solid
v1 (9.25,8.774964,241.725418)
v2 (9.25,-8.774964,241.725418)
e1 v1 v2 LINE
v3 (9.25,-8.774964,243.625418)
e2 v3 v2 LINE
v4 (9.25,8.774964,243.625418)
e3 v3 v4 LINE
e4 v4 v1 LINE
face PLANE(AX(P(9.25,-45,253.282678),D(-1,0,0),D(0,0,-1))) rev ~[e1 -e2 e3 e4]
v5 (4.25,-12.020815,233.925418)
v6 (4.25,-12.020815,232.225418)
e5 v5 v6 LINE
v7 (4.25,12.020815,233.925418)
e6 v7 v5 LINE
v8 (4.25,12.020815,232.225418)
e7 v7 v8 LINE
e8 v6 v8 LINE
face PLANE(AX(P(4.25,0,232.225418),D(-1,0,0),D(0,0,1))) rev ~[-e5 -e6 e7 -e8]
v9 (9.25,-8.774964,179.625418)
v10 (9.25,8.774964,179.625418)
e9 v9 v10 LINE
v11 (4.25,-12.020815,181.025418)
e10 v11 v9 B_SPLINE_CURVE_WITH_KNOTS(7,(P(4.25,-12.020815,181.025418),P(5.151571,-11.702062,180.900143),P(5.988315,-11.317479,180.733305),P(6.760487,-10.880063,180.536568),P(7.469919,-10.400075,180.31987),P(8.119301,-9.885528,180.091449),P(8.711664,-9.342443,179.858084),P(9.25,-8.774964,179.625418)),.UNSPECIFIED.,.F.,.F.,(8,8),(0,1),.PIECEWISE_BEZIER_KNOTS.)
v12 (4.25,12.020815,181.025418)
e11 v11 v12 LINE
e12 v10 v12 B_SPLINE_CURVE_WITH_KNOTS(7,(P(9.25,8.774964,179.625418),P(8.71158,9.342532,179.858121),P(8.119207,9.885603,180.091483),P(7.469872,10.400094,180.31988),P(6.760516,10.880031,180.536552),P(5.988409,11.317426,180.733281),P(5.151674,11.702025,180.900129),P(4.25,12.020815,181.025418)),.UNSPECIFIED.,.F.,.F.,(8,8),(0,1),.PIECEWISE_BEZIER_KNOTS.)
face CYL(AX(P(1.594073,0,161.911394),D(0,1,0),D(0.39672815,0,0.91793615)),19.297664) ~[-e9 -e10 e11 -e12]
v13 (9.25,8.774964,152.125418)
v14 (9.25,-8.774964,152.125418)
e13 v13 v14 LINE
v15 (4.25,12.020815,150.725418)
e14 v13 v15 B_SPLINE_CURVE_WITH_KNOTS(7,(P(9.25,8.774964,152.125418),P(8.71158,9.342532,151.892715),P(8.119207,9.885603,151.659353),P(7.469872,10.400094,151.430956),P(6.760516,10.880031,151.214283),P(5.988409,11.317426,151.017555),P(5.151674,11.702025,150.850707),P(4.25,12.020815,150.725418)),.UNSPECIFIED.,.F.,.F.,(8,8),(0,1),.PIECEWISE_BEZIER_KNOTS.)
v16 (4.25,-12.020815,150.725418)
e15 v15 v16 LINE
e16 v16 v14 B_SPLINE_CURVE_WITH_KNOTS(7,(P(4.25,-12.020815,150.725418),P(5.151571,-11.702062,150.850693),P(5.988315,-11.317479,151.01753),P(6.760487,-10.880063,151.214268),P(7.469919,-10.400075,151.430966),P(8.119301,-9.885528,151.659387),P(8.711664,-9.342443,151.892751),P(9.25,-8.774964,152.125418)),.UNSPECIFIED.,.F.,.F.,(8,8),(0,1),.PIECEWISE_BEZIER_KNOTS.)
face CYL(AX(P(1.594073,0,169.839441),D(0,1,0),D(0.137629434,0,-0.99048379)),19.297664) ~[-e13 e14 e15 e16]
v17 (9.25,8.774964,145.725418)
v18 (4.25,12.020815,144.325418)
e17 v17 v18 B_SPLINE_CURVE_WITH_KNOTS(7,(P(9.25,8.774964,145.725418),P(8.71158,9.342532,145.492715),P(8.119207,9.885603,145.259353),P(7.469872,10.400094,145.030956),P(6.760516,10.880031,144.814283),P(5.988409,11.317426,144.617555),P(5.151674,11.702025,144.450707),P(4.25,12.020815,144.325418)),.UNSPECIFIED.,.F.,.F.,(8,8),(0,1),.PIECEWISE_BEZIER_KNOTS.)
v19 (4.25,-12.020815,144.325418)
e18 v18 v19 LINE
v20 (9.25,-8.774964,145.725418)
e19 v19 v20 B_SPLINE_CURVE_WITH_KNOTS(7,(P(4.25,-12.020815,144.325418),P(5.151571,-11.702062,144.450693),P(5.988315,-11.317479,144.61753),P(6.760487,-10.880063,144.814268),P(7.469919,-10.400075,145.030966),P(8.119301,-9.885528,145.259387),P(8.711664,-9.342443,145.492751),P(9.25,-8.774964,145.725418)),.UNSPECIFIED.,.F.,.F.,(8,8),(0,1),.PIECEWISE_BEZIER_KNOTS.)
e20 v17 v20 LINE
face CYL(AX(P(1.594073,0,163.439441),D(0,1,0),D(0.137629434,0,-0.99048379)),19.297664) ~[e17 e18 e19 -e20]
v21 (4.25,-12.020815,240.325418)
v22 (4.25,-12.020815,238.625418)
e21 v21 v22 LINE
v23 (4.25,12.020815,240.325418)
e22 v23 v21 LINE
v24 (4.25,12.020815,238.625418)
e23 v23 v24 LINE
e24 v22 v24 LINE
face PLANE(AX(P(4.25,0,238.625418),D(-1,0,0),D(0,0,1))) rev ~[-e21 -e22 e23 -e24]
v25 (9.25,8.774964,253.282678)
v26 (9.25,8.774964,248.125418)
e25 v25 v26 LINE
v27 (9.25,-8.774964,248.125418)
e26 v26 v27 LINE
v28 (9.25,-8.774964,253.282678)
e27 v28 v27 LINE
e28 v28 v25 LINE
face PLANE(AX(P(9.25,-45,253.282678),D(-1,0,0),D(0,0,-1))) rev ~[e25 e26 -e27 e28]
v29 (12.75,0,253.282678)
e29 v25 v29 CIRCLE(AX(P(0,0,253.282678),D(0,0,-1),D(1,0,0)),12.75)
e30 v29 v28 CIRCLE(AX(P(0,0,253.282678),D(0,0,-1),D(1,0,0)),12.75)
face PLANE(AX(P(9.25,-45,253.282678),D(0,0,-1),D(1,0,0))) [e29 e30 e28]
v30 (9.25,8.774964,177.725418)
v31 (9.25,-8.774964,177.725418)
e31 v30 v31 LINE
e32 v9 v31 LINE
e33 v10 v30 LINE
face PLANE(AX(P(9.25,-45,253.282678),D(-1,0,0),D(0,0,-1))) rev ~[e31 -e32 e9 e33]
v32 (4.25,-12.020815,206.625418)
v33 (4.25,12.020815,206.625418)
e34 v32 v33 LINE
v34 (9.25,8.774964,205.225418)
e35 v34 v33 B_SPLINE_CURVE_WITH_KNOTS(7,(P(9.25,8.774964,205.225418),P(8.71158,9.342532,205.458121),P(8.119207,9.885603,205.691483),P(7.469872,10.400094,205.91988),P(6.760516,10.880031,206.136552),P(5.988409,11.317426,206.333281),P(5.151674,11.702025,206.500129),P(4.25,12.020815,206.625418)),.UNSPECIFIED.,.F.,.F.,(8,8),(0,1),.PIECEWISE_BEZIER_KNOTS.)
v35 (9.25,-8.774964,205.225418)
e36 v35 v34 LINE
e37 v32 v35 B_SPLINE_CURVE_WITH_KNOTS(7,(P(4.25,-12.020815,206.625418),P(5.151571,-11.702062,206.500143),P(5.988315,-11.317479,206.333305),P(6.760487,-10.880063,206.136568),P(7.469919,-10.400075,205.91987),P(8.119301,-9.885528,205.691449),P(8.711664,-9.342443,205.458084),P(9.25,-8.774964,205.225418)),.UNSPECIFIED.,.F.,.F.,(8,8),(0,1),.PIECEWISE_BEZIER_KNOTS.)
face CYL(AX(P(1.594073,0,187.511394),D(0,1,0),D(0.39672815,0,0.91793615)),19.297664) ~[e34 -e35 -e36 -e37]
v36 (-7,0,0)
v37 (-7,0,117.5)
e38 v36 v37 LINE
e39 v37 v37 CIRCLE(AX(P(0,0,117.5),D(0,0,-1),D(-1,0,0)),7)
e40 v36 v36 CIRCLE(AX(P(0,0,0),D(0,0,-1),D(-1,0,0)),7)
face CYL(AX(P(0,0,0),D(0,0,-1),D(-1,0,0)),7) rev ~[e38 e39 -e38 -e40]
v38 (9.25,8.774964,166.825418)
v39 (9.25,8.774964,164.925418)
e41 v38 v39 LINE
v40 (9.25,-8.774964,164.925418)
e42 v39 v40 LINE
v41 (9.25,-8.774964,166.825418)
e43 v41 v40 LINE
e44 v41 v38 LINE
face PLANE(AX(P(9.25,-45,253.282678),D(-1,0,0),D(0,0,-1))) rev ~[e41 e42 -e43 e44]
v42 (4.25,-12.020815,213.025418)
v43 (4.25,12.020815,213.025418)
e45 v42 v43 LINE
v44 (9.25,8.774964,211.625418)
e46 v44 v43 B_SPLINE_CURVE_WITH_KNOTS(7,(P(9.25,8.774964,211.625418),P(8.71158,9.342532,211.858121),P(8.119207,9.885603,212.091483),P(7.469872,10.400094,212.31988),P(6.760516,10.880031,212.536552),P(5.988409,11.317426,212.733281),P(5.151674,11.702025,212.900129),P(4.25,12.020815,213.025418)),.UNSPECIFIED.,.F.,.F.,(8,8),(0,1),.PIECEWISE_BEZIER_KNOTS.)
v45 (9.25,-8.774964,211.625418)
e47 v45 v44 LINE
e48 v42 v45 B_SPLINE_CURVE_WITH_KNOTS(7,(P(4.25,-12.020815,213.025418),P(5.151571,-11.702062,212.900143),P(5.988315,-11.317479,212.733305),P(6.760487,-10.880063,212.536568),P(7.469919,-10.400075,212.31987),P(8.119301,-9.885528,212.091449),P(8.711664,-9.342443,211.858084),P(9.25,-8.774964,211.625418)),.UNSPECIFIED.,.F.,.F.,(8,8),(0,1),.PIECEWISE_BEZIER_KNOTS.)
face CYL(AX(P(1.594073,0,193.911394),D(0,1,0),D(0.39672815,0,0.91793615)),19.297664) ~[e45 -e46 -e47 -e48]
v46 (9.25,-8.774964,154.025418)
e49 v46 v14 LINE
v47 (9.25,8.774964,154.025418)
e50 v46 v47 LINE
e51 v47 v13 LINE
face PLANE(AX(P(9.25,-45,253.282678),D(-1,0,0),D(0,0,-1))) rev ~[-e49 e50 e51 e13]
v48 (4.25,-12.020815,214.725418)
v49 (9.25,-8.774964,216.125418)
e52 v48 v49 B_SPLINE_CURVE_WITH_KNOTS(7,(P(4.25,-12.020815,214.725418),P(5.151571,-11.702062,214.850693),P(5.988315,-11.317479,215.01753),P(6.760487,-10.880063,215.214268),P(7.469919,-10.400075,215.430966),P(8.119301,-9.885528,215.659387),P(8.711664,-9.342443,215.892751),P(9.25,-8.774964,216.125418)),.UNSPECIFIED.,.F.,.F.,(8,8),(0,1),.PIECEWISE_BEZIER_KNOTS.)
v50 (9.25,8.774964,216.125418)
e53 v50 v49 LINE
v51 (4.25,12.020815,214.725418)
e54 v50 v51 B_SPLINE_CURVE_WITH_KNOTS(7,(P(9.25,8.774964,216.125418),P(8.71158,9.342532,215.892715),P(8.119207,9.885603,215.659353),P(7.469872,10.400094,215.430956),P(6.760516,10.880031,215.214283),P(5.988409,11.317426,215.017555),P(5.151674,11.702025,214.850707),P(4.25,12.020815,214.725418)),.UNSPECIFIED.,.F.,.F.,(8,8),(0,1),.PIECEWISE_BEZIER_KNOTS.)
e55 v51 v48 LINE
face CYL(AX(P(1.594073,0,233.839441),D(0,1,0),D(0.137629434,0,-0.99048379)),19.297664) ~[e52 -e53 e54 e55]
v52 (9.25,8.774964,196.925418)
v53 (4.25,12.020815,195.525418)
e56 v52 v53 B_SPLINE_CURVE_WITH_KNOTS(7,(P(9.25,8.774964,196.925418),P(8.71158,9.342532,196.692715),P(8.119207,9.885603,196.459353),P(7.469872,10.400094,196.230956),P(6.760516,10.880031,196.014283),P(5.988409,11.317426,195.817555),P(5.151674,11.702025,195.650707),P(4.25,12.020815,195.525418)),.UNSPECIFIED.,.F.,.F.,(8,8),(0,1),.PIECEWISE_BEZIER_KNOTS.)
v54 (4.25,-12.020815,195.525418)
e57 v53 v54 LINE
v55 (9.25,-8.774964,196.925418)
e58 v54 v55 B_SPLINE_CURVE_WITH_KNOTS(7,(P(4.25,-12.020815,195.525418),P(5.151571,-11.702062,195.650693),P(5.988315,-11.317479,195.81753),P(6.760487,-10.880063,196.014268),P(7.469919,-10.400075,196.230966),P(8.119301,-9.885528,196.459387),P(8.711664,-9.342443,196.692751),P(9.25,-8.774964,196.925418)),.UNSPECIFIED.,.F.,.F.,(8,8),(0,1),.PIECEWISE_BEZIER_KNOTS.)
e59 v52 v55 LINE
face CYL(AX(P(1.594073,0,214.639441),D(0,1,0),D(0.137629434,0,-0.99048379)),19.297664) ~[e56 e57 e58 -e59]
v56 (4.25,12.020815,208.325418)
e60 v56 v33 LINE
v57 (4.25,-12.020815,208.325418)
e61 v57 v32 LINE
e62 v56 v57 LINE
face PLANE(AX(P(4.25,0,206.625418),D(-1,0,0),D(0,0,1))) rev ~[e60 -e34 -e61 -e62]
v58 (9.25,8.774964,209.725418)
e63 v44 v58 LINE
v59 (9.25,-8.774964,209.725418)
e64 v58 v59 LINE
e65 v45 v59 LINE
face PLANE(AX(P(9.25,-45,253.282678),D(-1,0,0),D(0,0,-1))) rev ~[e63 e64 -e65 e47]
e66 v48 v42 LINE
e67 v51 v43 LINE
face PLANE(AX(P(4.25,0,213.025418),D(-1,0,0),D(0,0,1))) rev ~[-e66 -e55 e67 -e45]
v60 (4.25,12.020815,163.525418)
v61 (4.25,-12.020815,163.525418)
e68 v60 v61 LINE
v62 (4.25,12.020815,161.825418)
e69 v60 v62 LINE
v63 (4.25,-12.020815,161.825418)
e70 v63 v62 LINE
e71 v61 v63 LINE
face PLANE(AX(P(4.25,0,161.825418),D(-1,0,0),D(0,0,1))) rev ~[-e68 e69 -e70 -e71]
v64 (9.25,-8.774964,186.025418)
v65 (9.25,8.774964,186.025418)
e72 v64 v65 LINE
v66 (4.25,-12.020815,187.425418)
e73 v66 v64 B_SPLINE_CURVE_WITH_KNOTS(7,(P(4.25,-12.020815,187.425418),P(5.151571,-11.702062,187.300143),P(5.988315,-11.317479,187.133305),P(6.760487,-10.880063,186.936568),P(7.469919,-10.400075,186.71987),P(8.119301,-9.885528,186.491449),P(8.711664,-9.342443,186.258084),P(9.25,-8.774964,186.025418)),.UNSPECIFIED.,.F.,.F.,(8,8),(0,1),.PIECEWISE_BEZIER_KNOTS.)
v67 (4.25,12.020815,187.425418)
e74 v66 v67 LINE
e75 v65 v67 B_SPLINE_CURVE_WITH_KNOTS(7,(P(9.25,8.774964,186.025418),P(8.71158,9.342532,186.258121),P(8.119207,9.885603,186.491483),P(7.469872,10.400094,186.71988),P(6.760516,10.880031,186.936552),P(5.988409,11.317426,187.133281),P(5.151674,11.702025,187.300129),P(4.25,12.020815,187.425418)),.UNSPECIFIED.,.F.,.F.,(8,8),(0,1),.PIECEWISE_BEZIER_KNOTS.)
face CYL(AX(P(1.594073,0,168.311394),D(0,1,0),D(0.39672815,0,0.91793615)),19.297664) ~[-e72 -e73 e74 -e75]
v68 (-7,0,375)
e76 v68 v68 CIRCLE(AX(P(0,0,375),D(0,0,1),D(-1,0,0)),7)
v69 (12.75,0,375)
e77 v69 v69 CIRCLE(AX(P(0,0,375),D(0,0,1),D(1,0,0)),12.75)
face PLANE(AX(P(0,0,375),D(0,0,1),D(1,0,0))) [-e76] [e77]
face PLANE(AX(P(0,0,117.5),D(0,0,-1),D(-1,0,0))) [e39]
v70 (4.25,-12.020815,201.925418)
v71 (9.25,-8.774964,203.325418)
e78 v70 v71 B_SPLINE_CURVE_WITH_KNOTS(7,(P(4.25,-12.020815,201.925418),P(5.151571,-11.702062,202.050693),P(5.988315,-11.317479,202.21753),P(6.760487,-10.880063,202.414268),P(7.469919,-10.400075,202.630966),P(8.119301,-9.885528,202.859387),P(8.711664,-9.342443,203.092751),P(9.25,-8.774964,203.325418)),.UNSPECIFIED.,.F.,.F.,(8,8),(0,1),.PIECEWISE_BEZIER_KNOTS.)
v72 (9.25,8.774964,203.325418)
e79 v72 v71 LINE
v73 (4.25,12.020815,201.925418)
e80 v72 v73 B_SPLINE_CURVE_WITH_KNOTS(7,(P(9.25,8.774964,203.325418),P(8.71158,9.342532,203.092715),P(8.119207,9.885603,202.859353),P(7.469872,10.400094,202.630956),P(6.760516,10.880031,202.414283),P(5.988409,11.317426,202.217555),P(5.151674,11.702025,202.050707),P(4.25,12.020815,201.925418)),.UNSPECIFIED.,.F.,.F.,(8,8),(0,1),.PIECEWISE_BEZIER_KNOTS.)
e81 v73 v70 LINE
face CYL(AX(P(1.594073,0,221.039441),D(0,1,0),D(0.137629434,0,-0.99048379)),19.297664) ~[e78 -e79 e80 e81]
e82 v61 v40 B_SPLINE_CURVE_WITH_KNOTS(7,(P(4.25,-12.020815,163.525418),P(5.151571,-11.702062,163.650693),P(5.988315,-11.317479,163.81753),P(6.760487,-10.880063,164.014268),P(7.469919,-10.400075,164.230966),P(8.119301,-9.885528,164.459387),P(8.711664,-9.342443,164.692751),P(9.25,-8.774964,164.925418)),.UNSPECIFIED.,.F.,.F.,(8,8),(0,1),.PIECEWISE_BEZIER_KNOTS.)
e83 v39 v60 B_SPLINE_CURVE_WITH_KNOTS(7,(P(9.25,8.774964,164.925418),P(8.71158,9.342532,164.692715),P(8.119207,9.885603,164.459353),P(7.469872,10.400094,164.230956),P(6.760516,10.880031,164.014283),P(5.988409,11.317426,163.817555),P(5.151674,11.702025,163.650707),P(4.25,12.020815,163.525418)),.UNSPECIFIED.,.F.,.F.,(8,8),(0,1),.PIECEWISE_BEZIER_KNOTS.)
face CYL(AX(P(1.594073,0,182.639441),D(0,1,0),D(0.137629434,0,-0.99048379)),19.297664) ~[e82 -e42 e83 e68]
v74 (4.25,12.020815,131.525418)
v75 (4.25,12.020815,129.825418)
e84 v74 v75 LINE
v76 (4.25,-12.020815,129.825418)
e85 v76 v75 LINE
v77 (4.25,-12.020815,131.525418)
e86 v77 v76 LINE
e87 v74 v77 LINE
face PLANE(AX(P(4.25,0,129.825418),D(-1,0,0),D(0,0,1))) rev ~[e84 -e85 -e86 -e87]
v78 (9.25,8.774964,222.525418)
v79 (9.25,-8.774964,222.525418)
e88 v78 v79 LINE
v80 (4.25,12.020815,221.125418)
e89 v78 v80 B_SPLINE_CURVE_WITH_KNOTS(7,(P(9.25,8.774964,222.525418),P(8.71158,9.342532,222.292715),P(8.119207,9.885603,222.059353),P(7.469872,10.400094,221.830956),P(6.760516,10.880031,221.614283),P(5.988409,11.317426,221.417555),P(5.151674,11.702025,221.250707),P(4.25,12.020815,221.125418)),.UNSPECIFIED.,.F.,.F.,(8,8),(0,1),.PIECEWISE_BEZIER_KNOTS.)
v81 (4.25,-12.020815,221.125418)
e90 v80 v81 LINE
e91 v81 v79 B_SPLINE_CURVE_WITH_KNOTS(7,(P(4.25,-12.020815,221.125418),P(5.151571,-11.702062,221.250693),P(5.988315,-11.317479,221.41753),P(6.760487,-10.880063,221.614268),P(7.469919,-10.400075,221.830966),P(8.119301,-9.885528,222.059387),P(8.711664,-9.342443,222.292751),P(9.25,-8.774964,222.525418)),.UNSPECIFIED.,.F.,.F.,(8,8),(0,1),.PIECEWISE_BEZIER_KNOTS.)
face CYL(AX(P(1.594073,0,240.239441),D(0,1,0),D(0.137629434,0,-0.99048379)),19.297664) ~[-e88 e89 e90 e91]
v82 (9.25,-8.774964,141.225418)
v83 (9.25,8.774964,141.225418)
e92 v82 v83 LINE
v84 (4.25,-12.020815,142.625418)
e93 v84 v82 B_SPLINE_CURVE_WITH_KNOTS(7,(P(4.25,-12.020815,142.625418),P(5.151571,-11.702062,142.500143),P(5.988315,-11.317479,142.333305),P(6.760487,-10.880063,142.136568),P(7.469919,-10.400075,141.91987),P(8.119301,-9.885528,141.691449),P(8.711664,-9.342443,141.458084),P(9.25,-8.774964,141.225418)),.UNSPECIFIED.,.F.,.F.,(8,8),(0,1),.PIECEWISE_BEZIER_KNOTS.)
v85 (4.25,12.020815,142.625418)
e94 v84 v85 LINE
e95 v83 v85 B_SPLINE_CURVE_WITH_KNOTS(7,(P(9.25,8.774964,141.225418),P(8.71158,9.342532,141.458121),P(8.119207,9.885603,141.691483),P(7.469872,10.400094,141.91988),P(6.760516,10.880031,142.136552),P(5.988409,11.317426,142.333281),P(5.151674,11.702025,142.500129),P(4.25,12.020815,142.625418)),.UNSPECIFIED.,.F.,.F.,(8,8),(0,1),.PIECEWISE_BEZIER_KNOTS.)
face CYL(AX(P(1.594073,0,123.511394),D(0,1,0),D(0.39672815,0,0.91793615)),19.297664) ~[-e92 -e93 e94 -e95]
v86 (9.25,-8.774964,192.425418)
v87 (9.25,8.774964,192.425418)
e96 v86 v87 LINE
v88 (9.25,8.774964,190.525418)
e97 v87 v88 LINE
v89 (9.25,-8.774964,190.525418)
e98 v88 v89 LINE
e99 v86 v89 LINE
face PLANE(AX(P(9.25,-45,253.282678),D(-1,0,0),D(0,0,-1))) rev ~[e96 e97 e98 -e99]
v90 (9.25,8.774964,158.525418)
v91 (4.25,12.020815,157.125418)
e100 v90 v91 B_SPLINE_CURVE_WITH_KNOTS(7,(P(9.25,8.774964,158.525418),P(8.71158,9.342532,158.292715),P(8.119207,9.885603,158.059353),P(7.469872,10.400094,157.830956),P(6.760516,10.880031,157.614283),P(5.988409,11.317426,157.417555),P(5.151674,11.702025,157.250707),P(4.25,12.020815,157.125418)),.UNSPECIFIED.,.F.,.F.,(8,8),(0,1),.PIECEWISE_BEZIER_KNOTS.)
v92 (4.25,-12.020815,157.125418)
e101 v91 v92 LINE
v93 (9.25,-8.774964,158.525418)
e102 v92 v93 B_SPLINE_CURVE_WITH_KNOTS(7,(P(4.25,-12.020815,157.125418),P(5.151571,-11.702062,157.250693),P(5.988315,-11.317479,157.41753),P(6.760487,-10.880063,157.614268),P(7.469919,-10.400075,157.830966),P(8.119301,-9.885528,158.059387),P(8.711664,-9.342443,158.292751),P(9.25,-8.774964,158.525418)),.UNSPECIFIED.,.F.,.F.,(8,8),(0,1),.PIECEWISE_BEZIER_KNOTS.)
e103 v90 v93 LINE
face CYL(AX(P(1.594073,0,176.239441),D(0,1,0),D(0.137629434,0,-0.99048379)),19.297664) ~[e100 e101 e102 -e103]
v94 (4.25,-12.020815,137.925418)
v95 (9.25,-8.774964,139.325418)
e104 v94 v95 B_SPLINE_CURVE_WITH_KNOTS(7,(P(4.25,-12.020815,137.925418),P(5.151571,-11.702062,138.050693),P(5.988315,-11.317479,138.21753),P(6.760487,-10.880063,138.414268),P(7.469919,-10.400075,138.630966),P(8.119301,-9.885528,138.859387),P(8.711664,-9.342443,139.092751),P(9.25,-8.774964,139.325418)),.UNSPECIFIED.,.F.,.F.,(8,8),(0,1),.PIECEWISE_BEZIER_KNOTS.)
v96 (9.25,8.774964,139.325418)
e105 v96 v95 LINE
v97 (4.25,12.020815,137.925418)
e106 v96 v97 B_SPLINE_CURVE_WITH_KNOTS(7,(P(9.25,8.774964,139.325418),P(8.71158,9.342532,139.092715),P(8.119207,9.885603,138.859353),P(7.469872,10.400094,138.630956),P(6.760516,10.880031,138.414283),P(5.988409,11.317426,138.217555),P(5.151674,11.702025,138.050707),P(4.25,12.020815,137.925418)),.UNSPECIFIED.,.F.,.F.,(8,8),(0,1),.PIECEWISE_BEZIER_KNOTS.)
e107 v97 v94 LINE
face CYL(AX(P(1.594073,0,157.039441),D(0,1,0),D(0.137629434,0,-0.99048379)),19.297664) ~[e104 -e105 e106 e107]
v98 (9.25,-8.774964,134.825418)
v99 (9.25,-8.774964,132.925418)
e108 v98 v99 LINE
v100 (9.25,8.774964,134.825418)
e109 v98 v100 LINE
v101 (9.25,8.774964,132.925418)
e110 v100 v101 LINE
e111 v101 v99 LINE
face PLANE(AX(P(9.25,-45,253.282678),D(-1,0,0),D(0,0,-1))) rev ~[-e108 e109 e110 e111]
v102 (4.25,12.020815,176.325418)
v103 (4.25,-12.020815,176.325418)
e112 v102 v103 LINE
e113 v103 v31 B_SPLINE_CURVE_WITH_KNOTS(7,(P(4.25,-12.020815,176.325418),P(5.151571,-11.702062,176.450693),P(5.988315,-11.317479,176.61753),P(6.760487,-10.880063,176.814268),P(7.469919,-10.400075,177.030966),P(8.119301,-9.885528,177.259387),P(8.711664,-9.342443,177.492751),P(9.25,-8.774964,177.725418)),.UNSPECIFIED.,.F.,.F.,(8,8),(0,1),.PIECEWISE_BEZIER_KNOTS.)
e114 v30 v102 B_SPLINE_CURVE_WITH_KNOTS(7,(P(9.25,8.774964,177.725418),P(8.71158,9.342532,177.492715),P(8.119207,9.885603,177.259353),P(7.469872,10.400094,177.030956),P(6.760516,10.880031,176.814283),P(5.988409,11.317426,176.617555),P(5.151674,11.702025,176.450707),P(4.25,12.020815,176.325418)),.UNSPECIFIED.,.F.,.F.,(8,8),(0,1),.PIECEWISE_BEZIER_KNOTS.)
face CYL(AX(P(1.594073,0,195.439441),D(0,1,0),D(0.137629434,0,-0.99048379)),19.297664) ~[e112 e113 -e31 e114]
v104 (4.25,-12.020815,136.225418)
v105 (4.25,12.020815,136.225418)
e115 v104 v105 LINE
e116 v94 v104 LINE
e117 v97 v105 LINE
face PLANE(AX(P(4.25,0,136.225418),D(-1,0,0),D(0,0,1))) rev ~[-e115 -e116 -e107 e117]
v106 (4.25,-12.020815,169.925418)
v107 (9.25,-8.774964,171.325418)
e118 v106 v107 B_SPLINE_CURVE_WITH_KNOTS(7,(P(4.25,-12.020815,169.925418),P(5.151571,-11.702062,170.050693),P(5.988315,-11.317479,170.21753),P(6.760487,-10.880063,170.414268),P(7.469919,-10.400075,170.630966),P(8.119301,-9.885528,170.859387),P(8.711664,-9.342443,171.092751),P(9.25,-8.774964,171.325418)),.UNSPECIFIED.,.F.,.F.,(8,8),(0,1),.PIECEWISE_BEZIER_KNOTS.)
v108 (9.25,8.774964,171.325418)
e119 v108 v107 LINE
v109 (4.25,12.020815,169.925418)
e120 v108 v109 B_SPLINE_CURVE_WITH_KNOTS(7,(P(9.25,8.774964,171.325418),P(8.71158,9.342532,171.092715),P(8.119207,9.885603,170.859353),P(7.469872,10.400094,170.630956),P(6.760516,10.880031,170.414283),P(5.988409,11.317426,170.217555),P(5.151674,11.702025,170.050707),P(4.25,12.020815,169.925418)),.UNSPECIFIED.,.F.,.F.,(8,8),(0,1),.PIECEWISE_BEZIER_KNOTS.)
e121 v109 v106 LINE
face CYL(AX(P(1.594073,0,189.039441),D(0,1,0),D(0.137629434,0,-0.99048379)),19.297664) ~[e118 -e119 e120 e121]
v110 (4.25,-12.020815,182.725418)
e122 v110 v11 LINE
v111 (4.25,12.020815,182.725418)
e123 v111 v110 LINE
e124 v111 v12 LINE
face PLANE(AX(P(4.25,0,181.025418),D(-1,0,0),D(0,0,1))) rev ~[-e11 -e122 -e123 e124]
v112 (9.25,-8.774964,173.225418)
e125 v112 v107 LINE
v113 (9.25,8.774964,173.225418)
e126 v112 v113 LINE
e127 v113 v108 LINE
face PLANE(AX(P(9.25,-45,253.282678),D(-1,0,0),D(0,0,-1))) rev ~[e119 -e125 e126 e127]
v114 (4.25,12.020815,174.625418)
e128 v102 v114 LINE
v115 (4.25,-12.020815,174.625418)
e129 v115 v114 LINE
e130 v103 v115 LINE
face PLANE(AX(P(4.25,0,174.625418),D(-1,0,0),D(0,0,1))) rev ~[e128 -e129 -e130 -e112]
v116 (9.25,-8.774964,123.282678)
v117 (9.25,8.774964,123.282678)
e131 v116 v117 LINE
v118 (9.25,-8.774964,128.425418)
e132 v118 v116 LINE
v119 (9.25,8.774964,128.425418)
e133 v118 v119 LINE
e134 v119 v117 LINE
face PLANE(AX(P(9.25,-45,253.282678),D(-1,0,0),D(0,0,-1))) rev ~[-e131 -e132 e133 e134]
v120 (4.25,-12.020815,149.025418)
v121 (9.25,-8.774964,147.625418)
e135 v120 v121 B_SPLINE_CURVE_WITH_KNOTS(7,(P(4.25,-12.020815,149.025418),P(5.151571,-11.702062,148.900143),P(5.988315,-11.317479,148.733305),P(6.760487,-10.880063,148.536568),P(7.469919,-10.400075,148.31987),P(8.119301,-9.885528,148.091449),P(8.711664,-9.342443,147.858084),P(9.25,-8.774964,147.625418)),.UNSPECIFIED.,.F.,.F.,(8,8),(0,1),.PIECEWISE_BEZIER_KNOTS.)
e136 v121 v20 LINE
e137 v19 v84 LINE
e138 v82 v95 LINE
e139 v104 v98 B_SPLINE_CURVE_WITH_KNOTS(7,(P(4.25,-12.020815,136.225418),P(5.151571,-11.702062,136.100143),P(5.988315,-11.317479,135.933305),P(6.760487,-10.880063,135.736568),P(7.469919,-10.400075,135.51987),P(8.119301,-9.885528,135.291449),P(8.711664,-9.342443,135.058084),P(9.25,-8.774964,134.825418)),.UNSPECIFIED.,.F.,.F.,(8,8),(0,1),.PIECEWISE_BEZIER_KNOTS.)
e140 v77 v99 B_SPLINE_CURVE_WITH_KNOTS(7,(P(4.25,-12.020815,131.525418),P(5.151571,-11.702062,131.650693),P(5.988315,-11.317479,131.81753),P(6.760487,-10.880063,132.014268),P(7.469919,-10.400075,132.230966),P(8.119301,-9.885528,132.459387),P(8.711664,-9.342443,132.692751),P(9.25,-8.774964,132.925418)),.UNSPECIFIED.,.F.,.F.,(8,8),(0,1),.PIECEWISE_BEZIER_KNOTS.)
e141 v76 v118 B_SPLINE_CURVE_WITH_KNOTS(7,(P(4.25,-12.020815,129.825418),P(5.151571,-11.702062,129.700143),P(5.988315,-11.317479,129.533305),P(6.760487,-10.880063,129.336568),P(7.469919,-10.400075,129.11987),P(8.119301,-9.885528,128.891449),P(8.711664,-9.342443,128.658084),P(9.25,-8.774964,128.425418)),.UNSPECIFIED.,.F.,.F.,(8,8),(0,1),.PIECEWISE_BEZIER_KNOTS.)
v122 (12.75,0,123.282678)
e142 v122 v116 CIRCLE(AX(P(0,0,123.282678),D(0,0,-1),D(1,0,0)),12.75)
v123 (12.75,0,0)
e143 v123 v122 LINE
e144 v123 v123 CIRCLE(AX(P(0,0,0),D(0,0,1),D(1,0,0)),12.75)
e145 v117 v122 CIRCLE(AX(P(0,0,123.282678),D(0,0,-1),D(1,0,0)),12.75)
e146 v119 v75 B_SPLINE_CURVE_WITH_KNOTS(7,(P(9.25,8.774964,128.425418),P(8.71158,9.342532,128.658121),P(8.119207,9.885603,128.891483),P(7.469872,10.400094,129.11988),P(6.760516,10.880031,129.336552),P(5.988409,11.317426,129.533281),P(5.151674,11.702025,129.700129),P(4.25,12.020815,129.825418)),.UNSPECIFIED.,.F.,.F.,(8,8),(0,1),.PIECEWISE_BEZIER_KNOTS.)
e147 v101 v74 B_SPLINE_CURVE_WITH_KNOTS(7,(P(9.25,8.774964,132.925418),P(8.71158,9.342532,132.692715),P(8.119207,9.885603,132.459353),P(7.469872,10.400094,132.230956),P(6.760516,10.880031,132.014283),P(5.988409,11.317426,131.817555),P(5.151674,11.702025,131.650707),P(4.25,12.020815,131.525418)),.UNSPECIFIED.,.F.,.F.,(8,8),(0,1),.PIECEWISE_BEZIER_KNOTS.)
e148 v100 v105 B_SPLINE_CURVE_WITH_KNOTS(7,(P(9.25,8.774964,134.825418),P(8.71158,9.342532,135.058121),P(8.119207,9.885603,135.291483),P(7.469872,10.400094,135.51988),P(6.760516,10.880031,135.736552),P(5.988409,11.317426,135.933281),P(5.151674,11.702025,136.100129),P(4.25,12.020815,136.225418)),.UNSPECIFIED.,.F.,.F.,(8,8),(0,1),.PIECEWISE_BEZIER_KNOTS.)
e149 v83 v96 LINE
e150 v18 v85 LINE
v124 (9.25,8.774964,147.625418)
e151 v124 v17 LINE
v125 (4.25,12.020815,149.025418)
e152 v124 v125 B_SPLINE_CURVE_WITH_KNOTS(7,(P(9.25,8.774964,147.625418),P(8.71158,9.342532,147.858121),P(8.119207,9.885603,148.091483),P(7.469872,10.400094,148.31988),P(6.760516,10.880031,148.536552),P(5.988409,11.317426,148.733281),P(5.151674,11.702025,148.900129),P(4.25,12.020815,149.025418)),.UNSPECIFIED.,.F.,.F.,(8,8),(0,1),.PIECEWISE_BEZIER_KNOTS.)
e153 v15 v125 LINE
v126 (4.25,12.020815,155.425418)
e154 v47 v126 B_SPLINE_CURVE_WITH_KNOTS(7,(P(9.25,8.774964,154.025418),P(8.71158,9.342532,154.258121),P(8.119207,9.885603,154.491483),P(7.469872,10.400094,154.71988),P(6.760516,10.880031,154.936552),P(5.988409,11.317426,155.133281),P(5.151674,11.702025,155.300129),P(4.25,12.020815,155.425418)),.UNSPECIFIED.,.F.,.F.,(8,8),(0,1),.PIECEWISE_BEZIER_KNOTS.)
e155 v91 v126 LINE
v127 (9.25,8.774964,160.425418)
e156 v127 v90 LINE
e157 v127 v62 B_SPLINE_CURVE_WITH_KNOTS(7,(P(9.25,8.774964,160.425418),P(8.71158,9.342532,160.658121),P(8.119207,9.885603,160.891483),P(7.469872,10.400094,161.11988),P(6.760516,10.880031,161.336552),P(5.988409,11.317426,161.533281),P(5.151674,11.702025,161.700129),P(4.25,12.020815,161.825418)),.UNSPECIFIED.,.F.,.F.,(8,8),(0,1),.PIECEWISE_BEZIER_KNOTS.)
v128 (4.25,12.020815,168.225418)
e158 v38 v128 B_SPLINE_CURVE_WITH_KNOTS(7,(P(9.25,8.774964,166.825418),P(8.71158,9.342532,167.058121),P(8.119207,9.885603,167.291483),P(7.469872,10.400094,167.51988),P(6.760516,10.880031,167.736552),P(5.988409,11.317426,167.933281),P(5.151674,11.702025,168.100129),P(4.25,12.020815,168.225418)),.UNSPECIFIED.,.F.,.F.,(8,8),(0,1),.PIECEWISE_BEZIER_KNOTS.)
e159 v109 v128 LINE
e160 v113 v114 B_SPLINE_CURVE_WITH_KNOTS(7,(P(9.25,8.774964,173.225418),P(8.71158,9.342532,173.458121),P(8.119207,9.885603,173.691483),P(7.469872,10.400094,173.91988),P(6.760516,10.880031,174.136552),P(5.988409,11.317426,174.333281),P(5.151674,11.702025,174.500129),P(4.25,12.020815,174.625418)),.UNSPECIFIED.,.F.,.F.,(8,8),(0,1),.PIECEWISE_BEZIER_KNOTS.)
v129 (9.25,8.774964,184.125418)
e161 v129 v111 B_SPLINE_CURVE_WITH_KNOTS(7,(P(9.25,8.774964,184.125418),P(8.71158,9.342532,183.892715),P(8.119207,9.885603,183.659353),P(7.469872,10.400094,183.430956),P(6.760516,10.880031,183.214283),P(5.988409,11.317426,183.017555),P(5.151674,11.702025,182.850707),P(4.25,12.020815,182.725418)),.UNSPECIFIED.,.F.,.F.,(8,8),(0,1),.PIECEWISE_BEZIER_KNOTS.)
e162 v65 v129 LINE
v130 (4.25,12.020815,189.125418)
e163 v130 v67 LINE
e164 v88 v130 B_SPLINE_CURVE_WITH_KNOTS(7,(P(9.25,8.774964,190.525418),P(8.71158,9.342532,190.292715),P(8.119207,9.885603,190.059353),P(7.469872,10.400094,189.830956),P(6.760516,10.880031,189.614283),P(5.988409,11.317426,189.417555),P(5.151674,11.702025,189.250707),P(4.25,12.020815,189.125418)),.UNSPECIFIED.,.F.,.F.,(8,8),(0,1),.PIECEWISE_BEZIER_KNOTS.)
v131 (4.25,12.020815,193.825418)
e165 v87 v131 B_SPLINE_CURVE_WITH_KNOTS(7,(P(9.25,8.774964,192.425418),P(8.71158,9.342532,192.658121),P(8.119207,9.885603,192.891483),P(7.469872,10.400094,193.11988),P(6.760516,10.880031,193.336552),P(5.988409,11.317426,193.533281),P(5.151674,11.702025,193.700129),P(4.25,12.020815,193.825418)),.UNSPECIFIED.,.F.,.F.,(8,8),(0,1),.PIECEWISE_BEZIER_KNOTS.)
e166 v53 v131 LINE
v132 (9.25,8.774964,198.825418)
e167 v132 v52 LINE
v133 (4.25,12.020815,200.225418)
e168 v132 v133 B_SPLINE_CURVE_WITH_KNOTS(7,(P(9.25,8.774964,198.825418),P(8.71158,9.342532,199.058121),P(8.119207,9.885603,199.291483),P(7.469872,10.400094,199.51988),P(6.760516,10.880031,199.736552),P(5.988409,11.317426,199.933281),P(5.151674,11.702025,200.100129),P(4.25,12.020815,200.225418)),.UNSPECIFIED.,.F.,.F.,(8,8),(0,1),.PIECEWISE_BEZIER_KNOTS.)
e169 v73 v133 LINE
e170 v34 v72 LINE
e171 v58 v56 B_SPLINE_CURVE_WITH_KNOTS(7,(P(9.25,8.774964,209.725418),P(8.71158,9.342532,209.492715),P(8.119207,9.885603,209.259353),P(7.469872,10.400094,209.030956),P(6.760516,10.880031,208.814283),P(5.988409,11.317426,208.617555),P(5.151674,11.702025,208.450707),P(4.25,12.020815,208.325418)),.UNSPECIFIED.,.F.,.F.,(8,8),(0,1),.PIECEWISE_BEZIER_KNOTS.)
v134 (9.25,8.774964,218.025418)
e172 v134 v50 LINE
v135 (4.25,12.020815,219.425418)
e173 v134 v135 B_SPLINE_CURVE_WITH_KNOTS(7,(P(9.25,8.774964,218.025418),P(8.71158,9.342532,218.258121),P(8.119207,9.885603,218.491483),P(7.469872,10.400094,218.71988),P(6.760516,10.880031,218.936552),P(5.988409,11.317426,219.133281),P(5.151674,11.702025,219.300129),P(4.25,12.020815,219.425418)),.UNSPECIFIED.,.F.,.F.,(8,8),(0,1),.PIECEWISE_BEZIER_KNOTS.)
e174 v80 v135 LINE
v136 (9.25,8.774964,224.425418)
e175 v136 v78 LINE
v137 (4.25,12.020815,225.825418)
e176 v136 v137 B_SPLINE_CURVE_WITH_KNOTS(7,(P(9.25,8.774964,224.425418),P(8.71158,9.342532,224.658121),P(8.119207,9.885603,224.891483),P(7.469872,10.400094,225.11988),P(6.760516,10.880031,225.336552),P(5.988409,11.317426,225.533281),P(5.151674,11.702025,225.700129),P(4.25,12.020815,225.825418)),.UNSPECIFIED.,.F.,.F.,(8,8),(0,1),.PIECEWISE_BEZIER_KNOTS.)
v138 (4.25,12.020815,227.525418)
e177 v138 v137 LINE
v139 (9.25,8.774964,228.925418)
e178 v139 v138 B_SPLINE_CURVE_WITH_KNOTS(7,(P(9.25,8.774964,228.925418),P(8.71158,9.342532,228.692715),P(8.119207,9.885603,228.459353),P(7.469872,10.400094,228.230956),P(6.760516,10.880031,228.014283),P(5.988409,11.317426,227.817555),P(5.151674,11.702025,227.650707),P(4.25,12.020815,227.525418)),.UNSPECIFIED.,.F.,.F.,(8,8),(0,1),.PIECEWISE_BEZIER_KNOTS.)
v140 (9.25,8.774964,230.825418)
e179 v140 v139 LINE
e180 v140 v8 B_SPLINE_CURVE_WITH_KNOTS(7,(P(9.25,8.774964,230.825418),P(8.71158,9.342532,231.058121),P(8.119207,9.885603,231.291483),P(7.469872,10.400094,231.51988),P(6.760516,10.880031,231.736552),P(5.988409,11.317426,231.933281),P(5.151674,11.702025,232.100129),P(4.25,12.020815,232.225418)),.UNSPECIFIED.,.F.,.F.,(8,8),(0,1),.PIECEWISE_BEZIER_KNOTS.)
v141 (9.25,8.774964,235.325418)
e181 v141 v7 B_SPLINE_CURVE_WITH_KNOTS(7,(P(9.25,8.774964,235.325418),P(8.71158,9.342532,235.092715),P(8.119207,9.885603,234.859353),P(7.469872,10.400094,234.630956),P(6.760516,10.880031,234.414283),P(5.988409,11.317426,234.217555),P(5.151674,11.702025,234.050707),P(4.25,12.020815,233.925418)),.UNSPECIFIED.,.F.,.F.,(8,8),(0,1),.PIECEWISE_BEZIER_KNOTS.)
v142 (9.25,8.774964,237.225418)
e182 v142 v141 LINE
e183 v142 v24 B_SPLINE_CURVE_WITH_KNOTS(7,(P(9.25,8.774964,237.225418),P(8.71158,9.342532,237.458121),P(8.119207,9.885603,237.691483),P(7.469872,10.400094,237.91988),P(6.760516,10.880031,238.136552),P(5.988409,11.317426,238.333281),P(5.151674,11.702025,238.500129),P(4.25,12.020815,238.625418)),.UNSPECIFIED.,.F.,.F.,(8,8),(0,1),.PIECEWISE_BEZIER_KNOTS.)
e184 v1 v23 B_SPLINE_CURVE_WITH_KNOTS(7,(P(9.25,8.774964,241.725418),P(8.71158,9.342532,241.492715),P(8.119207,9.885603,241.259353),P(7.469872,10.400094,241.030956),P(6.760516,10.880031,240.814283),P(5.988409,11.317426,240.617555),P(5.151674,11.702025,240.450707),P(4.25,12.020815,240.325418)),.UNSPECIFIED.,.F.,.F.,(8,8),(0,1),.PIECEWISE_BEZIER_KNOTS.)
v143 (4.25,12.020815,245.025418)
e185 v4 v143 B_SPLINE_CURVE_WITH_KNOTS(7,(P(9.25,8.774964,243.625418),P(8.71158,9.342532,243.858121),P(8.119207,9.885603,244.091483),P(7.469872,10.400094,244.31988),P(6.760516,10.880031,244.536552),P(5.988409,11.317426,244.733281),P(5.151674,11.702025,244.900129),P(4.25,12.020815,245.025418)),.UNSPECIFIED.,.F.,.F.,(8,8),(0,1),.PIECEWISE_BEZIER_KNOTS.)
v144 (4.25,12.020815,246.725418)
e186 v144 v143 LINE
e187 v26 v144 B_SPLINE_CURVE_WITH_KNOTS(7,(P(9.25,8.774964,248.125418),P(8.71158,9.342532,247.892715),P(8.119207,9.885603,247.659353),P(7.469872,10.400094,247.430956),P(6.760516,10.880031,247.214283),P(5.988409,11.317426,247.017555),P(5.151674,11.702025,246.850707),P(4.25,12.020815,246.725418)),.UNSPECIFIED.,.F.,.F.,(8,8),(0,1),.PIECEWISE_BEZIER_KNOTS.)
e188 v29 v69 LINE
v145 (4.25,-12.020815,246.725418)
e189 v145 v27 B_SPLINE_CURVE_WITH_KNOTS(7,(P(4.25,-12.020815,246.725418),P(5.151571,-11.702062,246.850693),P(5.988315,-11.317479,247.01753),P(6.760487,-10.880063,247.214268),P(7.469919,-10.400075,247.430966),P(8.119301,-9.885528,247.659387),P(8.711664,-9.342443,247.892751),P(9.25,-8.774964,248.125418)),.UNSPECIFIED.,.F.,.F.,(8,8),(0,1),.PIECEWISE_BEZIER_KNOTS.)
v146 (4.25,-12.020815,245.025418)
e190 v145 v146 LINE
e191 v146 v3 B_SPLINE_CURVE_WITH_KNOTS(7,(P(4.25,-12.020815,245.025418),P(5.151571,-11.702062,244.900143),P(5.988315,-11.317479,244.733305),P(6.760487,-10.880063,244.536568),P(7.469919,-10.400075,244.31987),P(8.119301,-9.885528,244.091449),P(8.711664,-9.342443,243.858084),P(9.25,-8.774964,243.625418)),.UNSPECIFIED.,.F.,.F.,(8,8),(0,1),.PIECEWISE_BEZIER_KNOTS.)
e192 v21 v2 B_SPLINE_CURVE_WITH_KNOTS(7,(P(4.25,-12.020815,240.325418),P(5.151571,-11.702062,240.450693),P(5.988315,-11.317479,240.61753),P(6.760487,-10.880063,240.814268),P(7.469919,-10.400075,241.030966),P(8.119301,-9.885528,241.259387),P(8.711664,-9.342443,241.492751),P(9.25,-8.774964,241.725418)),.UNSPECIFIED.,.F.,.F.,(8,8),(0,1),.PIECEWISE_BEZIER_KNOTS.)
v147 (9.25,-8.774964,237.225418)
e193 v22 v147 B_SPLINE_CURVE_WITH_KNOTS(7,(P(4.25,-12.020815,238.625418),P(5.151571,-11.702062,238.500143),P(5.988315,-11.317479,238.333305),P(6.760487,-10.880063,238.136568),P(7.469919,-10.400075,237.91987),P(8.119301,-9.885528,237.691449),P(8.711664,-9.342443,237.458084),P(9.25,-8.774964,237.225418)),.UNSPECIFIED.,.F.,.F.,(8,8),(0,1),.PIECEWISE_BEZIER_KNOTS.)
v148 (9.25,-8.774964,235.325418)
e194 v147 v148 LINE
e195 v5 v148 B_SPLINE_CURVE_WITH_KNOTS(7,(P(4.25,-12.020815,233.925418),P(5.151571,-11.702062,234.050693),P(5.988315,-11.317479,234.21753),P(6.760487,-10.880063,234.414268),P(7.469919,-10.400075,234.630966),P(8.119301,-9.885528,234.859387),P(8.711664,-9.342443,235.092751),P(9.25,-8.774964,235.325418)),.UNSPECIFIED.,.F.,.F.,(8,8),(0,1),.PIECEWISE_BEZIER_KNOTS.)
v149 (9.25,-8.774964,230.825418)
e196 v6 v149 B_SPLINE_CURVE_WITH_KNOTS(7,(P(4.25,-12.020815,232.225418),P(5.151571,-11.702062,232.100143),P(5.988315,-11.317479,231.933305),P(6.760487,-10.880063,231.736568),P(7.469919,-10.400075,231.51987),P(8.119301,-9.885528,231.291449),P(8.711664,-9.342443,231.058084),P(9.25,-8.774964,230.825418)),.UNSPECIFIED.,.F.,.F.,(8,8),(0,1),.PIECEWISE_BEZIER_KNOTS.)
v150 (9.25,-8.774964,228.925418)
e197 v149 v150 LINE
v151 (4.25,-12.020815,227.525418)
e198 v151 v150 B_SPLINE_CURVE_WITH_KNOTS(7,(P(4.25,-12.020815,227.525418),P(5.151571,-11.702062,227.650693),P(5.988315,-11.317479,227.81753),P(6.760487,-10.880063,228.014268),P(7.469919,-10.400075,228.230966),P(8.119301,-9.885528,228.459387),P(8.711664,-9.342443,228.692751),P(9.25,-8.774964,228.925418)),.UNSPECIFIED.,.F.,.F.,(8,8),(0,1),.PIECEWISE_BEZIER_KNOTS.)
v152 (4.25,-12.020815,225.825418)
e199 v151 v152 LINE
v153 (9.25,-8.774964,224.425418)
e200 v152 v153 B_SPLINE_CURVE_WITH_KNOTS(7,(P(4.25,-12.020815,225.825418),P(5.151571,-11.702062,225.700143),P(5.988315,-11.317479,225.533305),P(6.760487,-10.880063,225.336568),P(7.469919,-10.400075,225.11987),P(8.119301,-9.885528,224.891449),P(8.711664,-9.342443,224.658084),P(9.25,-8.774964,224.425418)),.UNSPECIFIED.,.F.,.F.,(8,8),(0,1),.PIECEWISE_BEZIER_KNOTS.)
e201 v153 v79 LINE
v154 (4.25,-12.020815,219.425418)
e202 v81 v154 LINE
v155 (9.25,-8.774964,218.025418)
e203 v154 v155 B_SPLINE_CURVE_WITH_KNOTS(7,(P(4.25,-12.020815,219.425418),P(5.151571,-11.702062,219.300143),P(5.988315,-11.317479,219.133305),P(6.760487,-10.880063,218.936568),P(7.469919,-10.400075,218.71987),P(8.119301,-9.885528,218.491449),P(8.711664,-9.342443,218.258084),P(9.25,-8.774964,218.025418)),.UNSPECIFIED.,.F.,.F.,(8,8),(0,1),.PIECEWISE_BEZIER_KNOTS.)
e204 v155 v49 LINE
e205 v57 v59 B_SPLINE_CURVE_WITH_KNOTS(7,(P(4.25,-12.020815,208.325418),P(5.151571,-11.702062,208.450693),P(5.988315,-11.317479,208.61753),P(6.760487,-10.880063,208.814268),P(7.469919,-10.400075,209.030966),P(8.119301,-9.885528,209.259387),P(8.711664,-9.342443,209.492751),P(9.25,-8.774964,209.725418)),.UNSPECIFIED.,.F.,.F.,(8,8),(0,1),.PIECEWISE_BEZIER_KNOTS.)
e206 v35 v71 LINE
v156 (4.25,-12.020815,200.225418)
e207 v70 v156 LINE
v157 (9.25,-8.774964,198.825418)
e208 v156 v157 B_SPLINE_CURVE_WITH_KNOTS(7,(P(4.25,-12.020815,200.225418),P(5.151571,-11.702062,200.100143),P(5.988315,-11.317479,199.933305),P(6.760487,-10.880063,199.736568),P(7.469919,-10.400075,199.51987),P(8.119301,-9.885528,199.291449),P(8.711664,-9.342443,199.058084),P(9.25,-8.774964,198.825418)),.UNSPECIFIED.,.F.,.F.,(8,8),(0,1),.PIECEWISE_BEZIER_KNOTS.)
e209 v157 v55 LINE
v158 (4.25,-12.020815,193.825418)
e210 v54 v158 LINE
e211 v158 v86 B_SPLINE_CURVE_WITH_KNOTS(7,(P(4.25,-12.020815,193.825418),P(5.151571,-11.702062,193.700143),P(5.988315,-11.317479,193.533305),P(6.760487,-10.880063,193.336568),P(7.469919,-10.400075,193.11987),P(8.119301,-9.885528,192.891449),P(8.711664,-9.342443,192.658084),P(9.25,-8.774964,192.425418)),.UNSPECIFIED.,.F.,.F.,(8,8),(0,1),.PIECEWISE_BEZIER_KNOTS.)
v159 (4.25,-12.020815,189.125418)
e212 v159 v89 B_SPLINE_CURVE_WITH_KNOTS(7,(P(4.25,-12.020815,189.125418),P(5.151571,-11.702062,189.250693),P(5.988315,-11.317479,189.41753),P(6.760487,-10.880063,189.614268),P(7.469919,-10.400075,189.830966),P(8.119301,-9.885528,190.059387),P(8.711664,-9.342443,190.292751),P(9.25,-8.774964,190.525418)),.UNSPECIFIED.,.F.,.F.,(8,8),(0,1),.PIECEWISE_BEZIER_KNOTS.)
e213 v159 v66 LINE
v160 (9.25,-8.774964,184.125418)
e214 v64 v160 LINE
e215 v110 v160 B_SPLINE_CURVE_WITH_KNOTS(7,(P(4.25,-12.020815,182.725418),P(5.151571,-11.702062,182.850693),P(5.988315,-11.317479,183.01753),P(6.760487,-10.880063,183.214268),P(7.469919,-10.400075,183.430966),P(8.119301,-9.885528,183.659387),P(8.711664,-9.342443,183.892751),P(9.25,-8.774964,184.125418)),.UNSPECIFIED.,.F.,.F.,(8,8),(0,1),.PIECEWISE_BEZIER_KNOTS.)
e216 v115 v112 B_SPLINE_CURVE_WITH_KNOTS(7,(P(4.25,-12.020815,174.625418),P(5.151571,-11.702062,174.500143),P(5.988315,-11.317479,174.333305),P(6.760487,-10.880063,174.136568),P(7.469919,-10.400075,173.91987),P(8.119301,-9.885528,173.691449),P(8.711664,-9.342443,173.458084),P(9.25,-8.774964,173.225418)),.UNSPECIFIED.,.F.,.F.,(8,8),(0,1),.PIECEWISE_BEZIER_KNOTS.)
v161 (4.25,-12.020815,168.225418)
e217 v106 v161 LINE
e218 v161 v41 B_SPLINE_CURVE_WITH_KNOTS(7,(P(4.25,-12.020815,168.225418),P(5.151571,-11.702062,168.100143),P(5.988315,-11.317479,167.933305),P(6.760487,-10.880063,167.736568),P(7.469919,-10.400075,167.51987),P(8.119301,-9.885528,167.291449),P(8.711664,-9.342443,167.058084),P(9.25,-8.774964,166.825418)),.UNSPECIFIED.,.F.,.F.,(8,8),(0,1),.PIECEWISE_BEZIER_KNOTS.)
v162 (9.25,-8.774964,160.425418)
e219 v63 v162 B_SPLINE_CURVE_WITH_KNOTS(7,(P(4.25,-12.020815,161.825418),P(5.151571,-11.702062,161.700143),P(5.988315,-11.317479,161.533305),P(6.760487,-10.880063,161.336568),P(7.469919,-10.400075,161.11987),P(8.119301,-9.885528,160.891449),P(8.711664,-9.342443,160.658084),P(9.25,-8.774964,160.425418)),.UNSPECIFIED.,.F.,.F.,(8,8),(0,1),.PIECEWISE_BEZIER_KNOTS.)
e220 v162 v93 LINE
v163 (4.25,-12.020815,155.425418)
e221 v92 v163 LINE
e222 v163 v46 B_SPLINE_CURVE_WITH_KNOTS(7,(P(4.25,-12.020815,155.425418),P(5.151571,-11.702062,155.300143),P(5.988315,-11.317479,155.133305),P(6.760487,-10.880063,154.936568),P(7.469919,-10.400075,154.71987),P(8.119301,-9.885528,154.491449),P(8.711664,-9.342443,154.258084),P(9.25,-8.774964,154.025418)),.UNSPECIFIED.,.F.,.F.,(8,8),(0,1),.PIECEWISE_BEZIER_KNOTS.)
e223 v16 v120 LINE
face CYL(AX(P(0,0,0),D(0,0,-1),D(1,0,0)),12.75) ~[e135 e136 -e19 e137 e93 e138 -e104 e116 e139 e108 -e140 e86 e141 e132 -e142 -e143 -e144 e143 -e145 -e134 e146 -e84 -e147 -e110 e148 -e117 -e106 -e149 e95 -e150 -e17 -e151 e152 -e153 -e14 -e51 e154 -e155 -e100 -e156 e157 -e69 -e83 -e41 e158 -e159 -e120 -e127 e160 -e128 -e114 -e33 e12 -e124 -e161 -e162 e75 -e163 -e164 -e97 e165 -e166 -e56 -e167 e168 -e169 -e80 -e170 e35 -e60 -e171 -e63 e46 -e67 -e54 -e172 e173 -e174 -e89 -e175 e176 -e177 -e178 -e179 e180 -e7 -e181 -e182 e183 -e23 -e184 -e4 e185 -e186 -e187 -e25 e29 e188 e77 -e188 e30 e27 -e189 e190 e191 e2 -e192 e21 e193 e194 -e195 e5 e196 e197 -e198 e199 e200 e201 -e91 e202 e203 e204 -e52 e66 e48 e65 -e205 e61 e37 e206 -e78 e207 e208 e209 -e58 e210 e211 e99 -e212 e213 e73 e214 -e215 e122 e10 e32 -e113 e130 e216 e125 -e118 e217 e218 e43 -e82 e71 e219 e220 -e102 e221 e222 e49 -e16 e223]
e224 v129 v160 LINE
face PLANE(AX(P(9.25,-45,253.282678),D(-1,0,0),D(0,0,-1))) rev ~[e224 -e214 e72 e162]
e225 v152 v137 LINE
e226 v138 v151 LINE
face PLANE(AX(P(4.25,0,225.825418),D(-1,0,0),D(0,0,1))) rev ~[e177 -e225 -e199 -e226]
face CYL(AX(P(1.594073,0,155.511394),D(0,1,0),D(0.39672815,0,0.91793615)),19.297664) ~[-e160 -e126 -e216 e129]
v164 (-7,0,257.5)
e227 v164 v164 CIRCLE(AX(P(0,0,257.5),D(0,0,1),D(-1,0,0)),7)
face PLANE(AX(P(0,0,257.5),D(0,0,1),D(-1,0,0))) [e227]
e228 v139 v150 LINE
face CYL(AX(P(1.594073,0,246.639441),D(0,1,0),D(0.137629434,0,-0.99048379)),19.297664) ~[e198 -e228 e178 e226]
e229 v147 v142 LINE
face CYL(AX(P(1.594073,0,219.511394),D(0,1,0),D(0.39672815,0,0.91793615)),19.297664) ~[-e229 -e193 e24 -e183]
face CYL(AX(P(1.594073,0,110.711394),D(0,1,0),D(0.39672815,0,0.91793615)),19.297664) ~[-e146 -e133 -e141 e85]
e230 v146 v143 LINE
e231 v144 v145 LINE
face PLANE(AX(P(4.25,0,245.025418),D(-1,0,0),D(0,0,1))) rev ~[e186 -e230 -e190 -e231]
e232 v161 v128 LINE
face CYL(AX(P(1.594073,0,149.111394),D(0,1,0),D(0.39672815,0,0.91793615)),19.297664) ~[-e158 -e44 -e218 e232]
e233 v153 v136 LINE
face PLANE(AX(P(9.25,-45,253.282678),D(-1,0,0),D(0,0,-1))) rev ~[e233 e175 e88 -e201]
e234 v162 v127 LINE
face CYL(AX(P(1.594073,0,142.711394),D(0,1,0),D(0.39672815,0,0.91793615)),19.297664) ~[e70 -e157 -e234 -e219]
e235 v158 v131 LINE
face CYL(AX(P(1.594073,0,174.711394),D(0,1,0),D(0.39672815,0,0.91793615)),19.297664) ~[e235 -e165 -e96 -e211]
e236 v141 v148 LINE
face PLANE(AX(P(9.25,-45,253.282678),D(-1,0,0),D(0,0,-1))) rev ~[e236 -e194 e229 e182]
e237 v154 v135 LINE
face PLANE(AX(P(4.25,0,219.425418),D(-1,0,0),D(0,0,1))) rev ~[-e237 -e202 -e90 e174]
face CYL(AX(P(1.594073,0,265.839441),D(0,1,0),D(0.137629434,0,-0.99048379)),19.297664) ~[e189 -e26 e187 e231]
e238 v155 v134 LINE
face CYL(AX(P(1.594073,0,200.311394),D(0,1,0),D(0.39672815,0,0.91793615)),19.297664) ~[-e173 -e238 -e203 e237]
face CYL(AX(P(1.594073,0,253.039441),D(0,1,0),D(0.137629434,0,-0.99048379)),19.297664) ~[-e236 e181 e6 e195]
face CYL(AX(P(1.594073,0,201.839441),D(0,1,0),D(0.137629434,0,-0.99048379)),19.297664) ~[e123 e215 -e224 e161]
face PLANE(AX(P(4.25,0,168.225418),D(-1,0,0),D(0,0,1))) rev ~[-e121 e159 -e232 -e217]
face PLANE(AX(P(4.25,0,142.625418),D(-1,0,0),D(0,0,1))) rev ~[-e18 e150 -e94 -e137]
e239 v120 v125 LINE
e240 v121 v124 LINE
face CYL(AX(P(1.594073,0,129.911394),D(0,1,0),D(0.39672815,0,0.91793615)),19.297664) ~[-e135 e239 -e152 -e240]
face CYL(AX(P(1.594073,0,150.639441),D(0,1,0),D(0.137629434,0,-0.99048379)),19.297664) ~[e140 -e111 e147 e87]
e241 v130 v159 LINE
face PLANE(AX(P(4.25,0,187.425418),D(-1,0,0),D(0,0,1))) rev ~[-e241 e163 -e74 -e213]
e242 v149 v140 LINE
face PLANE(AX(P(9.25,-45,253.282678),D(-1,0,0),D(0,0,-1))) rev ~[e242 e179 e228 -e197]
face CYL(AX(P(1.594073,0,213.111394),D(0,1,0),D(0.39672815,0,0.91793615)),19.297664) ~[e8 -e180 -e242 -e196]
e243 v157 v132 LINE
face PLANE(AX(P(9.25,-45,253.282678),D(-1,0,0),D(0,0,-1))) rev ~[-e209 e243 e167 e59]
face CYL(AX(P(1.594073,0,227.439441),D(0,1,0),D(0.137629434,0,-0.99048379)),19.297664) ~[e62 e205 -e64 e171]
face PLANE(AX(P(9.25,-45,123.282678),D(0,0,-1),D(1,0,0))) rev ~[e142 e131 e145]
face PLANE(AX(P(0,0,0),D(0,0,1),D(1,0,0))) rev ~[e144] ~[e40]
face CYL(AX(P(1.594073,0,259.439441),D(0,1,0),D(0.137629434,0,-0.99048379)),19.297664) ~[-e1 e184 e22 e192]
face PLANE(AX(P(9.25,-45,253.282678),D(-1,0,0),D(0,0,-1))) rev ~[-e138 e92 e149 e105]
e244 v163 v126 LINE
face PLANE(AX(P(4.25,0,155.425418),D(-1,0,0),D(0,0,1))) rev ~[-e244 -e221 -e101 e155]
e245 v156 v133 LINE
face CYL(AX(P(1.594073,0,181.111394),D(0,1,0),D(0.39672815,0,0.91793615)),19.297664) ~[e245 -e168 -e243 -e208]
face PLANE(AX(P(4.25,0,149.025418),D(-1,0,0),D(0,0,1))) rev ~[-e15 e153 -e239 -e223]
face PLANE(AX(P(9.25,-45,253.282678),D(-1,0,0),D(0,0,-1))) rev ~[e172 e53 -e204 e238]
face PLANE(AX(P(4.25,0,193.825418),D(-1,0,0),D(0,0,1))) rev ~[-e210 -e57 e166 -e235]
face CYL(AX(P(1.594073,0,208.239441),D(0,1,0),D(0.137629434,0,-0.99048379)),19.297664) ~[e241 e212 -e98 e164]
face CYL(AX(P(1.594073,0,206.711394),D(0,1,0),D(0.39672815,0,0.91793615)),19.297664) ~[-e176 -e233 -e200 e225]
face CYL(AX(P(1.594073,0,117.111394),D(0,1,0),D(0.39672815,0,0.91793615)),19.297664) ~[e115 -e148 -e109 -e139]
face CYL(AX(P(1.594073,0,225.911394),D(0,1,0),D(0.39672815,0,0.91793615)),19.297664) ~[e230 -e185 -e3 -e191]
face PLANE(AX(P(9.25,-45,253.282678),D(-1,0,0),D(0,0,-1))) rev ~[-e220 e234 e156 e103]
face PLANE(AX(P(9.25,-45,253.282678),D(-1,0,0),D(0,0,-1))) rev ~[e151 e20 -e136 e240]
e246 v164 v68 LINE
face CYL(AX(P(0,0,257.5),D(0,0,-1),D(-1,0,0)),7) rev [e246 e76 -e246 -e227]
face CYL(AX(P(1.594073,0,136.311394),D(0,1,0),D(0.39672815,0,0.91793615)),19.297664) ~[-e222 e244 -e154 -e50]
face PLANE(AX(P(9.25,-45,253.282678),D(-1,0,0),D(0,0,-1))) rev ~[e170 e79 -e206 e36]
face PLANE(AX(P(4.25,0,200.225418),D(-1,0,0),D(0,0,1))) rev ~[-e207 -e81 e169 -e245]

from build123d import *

# Parameters (mm, degrees)
SKETCH1_R               = 12.75
BOSS_EXTRUDE1_DEPTH     = 375
CUT_EXTRUDE1_DEPTH      = 40
CUT_EXTRUDE1_DEPTH_BACK = 45
SKETCH2_W               = 3.5
SKETCH2_H               = 130
CUT_EXTRUDE2_DEPTH      = 45
LPATTERN1_COUNT         = 10
LPATTERN1_PITCH         = 6.4
LPATTERN1_COUNT_DIR2    = 10
LPATTERN1_PITCH_DIR2    = 6.4
SKETCH4_R               = 7
CUT_EXTRUDE3_DEPTH      = 117.5
CUT_EXTRUDE4_START      = -117.5
SKETCH5_R               = 7
CUT_EXTRUDE4_DEPTH      = 117.5


with BuildPart() as part:
    # Sketch1 → Boss-Extrude1 (new body)
    with BuildSketch(Plane.XY):
        Circle(SKETCH1_R)
    extrude(amount=BOSS_EXTRUDE1_DEPTH)

    # Sketch2 → Cut-Extrude1 (cut, two sides: drawn at the far end of the back side and taken through both)
    with BuildSketch(Plane(origin=(0, 0, 0), x_dir=(1, 0, 0), z_dir=(0, 1, 0)).offset(-CUT_EXTRUDE1_DEPTH_BACK)):
        with Locations((11, -188.282678405)):
            Rectangle(SKETCH2_W, SKETCH2_H)
    extrude(amount=CUT_EXTRUDE1_DEPTH + CUT_EXTRUDE1_DEPTH_BACK, mode=Mode.SUBTRACT)

    # Sketch3 → Cut-Extrude2 (cut, symmetric)
    with BuildSketch(Plane(origin=(0, 0, 0), x_dir=(1, 0, 0), z_dir=(0, 1, 0))):
        with BuildLine():
            Line((9.25, -190.525417834), (9.25, -186.025417834))
            ThreePointArc((9.25, -186.025417834), (6.797301158, -186.894350543), (4.25, -187.425417834))
            Line((4.25, -187.425417834), (4.25, -189.125417834))
            ThreePointArc((4.25, -189.125417834), (6.797301158, -189.656485126), (9.25, -190.525417834))
        make_face()
    cut_extrude2 = extrude(amount=CUT_EXTRUDE2_DEPTH, both=True, mode=Mode.SUBTRACT)

    # LPattern1: Cut-Extrude2 10 × 10
    with Locations(*[Vector(0, 0, 1) * (i * LPATTERN1_PITCH) + Vector(0, 0, -1) * (j * LPATTERN1_PITCH_DIR2) for i in range(LPATTERN1_COUNT) for j in range(LPATTERN1_COUNT_DIR2) if (i, j) != (0, 0)]):
        add(cut_extrude2, mode=Mode.SUBTRACT)

    # Sketch4 → Cut-Extrude3 (cut)
    with BuildSketch(Plane(origin=(0, 0, 0), x_dir=(-1, 0, 0), z_dir=(0, 0, -1))):
        Circle(SKETCH4_R)
    extrude(amount=-CUT_EXTRUDE3_DEPTH, mode=Mode.SUBTRACT)

    # Sketch5 → Cut-Extrude4 (cut)
    with BuildSketch(Plane.XY.offset(375).offset(CUT_EXTRUDE4_START)):
        Circle(SKETCH5_R)
    extrude(amount=CUT_EXTRUDE4_DEPTH, mode=Mode.SUBTRACT)


solid = part.part
